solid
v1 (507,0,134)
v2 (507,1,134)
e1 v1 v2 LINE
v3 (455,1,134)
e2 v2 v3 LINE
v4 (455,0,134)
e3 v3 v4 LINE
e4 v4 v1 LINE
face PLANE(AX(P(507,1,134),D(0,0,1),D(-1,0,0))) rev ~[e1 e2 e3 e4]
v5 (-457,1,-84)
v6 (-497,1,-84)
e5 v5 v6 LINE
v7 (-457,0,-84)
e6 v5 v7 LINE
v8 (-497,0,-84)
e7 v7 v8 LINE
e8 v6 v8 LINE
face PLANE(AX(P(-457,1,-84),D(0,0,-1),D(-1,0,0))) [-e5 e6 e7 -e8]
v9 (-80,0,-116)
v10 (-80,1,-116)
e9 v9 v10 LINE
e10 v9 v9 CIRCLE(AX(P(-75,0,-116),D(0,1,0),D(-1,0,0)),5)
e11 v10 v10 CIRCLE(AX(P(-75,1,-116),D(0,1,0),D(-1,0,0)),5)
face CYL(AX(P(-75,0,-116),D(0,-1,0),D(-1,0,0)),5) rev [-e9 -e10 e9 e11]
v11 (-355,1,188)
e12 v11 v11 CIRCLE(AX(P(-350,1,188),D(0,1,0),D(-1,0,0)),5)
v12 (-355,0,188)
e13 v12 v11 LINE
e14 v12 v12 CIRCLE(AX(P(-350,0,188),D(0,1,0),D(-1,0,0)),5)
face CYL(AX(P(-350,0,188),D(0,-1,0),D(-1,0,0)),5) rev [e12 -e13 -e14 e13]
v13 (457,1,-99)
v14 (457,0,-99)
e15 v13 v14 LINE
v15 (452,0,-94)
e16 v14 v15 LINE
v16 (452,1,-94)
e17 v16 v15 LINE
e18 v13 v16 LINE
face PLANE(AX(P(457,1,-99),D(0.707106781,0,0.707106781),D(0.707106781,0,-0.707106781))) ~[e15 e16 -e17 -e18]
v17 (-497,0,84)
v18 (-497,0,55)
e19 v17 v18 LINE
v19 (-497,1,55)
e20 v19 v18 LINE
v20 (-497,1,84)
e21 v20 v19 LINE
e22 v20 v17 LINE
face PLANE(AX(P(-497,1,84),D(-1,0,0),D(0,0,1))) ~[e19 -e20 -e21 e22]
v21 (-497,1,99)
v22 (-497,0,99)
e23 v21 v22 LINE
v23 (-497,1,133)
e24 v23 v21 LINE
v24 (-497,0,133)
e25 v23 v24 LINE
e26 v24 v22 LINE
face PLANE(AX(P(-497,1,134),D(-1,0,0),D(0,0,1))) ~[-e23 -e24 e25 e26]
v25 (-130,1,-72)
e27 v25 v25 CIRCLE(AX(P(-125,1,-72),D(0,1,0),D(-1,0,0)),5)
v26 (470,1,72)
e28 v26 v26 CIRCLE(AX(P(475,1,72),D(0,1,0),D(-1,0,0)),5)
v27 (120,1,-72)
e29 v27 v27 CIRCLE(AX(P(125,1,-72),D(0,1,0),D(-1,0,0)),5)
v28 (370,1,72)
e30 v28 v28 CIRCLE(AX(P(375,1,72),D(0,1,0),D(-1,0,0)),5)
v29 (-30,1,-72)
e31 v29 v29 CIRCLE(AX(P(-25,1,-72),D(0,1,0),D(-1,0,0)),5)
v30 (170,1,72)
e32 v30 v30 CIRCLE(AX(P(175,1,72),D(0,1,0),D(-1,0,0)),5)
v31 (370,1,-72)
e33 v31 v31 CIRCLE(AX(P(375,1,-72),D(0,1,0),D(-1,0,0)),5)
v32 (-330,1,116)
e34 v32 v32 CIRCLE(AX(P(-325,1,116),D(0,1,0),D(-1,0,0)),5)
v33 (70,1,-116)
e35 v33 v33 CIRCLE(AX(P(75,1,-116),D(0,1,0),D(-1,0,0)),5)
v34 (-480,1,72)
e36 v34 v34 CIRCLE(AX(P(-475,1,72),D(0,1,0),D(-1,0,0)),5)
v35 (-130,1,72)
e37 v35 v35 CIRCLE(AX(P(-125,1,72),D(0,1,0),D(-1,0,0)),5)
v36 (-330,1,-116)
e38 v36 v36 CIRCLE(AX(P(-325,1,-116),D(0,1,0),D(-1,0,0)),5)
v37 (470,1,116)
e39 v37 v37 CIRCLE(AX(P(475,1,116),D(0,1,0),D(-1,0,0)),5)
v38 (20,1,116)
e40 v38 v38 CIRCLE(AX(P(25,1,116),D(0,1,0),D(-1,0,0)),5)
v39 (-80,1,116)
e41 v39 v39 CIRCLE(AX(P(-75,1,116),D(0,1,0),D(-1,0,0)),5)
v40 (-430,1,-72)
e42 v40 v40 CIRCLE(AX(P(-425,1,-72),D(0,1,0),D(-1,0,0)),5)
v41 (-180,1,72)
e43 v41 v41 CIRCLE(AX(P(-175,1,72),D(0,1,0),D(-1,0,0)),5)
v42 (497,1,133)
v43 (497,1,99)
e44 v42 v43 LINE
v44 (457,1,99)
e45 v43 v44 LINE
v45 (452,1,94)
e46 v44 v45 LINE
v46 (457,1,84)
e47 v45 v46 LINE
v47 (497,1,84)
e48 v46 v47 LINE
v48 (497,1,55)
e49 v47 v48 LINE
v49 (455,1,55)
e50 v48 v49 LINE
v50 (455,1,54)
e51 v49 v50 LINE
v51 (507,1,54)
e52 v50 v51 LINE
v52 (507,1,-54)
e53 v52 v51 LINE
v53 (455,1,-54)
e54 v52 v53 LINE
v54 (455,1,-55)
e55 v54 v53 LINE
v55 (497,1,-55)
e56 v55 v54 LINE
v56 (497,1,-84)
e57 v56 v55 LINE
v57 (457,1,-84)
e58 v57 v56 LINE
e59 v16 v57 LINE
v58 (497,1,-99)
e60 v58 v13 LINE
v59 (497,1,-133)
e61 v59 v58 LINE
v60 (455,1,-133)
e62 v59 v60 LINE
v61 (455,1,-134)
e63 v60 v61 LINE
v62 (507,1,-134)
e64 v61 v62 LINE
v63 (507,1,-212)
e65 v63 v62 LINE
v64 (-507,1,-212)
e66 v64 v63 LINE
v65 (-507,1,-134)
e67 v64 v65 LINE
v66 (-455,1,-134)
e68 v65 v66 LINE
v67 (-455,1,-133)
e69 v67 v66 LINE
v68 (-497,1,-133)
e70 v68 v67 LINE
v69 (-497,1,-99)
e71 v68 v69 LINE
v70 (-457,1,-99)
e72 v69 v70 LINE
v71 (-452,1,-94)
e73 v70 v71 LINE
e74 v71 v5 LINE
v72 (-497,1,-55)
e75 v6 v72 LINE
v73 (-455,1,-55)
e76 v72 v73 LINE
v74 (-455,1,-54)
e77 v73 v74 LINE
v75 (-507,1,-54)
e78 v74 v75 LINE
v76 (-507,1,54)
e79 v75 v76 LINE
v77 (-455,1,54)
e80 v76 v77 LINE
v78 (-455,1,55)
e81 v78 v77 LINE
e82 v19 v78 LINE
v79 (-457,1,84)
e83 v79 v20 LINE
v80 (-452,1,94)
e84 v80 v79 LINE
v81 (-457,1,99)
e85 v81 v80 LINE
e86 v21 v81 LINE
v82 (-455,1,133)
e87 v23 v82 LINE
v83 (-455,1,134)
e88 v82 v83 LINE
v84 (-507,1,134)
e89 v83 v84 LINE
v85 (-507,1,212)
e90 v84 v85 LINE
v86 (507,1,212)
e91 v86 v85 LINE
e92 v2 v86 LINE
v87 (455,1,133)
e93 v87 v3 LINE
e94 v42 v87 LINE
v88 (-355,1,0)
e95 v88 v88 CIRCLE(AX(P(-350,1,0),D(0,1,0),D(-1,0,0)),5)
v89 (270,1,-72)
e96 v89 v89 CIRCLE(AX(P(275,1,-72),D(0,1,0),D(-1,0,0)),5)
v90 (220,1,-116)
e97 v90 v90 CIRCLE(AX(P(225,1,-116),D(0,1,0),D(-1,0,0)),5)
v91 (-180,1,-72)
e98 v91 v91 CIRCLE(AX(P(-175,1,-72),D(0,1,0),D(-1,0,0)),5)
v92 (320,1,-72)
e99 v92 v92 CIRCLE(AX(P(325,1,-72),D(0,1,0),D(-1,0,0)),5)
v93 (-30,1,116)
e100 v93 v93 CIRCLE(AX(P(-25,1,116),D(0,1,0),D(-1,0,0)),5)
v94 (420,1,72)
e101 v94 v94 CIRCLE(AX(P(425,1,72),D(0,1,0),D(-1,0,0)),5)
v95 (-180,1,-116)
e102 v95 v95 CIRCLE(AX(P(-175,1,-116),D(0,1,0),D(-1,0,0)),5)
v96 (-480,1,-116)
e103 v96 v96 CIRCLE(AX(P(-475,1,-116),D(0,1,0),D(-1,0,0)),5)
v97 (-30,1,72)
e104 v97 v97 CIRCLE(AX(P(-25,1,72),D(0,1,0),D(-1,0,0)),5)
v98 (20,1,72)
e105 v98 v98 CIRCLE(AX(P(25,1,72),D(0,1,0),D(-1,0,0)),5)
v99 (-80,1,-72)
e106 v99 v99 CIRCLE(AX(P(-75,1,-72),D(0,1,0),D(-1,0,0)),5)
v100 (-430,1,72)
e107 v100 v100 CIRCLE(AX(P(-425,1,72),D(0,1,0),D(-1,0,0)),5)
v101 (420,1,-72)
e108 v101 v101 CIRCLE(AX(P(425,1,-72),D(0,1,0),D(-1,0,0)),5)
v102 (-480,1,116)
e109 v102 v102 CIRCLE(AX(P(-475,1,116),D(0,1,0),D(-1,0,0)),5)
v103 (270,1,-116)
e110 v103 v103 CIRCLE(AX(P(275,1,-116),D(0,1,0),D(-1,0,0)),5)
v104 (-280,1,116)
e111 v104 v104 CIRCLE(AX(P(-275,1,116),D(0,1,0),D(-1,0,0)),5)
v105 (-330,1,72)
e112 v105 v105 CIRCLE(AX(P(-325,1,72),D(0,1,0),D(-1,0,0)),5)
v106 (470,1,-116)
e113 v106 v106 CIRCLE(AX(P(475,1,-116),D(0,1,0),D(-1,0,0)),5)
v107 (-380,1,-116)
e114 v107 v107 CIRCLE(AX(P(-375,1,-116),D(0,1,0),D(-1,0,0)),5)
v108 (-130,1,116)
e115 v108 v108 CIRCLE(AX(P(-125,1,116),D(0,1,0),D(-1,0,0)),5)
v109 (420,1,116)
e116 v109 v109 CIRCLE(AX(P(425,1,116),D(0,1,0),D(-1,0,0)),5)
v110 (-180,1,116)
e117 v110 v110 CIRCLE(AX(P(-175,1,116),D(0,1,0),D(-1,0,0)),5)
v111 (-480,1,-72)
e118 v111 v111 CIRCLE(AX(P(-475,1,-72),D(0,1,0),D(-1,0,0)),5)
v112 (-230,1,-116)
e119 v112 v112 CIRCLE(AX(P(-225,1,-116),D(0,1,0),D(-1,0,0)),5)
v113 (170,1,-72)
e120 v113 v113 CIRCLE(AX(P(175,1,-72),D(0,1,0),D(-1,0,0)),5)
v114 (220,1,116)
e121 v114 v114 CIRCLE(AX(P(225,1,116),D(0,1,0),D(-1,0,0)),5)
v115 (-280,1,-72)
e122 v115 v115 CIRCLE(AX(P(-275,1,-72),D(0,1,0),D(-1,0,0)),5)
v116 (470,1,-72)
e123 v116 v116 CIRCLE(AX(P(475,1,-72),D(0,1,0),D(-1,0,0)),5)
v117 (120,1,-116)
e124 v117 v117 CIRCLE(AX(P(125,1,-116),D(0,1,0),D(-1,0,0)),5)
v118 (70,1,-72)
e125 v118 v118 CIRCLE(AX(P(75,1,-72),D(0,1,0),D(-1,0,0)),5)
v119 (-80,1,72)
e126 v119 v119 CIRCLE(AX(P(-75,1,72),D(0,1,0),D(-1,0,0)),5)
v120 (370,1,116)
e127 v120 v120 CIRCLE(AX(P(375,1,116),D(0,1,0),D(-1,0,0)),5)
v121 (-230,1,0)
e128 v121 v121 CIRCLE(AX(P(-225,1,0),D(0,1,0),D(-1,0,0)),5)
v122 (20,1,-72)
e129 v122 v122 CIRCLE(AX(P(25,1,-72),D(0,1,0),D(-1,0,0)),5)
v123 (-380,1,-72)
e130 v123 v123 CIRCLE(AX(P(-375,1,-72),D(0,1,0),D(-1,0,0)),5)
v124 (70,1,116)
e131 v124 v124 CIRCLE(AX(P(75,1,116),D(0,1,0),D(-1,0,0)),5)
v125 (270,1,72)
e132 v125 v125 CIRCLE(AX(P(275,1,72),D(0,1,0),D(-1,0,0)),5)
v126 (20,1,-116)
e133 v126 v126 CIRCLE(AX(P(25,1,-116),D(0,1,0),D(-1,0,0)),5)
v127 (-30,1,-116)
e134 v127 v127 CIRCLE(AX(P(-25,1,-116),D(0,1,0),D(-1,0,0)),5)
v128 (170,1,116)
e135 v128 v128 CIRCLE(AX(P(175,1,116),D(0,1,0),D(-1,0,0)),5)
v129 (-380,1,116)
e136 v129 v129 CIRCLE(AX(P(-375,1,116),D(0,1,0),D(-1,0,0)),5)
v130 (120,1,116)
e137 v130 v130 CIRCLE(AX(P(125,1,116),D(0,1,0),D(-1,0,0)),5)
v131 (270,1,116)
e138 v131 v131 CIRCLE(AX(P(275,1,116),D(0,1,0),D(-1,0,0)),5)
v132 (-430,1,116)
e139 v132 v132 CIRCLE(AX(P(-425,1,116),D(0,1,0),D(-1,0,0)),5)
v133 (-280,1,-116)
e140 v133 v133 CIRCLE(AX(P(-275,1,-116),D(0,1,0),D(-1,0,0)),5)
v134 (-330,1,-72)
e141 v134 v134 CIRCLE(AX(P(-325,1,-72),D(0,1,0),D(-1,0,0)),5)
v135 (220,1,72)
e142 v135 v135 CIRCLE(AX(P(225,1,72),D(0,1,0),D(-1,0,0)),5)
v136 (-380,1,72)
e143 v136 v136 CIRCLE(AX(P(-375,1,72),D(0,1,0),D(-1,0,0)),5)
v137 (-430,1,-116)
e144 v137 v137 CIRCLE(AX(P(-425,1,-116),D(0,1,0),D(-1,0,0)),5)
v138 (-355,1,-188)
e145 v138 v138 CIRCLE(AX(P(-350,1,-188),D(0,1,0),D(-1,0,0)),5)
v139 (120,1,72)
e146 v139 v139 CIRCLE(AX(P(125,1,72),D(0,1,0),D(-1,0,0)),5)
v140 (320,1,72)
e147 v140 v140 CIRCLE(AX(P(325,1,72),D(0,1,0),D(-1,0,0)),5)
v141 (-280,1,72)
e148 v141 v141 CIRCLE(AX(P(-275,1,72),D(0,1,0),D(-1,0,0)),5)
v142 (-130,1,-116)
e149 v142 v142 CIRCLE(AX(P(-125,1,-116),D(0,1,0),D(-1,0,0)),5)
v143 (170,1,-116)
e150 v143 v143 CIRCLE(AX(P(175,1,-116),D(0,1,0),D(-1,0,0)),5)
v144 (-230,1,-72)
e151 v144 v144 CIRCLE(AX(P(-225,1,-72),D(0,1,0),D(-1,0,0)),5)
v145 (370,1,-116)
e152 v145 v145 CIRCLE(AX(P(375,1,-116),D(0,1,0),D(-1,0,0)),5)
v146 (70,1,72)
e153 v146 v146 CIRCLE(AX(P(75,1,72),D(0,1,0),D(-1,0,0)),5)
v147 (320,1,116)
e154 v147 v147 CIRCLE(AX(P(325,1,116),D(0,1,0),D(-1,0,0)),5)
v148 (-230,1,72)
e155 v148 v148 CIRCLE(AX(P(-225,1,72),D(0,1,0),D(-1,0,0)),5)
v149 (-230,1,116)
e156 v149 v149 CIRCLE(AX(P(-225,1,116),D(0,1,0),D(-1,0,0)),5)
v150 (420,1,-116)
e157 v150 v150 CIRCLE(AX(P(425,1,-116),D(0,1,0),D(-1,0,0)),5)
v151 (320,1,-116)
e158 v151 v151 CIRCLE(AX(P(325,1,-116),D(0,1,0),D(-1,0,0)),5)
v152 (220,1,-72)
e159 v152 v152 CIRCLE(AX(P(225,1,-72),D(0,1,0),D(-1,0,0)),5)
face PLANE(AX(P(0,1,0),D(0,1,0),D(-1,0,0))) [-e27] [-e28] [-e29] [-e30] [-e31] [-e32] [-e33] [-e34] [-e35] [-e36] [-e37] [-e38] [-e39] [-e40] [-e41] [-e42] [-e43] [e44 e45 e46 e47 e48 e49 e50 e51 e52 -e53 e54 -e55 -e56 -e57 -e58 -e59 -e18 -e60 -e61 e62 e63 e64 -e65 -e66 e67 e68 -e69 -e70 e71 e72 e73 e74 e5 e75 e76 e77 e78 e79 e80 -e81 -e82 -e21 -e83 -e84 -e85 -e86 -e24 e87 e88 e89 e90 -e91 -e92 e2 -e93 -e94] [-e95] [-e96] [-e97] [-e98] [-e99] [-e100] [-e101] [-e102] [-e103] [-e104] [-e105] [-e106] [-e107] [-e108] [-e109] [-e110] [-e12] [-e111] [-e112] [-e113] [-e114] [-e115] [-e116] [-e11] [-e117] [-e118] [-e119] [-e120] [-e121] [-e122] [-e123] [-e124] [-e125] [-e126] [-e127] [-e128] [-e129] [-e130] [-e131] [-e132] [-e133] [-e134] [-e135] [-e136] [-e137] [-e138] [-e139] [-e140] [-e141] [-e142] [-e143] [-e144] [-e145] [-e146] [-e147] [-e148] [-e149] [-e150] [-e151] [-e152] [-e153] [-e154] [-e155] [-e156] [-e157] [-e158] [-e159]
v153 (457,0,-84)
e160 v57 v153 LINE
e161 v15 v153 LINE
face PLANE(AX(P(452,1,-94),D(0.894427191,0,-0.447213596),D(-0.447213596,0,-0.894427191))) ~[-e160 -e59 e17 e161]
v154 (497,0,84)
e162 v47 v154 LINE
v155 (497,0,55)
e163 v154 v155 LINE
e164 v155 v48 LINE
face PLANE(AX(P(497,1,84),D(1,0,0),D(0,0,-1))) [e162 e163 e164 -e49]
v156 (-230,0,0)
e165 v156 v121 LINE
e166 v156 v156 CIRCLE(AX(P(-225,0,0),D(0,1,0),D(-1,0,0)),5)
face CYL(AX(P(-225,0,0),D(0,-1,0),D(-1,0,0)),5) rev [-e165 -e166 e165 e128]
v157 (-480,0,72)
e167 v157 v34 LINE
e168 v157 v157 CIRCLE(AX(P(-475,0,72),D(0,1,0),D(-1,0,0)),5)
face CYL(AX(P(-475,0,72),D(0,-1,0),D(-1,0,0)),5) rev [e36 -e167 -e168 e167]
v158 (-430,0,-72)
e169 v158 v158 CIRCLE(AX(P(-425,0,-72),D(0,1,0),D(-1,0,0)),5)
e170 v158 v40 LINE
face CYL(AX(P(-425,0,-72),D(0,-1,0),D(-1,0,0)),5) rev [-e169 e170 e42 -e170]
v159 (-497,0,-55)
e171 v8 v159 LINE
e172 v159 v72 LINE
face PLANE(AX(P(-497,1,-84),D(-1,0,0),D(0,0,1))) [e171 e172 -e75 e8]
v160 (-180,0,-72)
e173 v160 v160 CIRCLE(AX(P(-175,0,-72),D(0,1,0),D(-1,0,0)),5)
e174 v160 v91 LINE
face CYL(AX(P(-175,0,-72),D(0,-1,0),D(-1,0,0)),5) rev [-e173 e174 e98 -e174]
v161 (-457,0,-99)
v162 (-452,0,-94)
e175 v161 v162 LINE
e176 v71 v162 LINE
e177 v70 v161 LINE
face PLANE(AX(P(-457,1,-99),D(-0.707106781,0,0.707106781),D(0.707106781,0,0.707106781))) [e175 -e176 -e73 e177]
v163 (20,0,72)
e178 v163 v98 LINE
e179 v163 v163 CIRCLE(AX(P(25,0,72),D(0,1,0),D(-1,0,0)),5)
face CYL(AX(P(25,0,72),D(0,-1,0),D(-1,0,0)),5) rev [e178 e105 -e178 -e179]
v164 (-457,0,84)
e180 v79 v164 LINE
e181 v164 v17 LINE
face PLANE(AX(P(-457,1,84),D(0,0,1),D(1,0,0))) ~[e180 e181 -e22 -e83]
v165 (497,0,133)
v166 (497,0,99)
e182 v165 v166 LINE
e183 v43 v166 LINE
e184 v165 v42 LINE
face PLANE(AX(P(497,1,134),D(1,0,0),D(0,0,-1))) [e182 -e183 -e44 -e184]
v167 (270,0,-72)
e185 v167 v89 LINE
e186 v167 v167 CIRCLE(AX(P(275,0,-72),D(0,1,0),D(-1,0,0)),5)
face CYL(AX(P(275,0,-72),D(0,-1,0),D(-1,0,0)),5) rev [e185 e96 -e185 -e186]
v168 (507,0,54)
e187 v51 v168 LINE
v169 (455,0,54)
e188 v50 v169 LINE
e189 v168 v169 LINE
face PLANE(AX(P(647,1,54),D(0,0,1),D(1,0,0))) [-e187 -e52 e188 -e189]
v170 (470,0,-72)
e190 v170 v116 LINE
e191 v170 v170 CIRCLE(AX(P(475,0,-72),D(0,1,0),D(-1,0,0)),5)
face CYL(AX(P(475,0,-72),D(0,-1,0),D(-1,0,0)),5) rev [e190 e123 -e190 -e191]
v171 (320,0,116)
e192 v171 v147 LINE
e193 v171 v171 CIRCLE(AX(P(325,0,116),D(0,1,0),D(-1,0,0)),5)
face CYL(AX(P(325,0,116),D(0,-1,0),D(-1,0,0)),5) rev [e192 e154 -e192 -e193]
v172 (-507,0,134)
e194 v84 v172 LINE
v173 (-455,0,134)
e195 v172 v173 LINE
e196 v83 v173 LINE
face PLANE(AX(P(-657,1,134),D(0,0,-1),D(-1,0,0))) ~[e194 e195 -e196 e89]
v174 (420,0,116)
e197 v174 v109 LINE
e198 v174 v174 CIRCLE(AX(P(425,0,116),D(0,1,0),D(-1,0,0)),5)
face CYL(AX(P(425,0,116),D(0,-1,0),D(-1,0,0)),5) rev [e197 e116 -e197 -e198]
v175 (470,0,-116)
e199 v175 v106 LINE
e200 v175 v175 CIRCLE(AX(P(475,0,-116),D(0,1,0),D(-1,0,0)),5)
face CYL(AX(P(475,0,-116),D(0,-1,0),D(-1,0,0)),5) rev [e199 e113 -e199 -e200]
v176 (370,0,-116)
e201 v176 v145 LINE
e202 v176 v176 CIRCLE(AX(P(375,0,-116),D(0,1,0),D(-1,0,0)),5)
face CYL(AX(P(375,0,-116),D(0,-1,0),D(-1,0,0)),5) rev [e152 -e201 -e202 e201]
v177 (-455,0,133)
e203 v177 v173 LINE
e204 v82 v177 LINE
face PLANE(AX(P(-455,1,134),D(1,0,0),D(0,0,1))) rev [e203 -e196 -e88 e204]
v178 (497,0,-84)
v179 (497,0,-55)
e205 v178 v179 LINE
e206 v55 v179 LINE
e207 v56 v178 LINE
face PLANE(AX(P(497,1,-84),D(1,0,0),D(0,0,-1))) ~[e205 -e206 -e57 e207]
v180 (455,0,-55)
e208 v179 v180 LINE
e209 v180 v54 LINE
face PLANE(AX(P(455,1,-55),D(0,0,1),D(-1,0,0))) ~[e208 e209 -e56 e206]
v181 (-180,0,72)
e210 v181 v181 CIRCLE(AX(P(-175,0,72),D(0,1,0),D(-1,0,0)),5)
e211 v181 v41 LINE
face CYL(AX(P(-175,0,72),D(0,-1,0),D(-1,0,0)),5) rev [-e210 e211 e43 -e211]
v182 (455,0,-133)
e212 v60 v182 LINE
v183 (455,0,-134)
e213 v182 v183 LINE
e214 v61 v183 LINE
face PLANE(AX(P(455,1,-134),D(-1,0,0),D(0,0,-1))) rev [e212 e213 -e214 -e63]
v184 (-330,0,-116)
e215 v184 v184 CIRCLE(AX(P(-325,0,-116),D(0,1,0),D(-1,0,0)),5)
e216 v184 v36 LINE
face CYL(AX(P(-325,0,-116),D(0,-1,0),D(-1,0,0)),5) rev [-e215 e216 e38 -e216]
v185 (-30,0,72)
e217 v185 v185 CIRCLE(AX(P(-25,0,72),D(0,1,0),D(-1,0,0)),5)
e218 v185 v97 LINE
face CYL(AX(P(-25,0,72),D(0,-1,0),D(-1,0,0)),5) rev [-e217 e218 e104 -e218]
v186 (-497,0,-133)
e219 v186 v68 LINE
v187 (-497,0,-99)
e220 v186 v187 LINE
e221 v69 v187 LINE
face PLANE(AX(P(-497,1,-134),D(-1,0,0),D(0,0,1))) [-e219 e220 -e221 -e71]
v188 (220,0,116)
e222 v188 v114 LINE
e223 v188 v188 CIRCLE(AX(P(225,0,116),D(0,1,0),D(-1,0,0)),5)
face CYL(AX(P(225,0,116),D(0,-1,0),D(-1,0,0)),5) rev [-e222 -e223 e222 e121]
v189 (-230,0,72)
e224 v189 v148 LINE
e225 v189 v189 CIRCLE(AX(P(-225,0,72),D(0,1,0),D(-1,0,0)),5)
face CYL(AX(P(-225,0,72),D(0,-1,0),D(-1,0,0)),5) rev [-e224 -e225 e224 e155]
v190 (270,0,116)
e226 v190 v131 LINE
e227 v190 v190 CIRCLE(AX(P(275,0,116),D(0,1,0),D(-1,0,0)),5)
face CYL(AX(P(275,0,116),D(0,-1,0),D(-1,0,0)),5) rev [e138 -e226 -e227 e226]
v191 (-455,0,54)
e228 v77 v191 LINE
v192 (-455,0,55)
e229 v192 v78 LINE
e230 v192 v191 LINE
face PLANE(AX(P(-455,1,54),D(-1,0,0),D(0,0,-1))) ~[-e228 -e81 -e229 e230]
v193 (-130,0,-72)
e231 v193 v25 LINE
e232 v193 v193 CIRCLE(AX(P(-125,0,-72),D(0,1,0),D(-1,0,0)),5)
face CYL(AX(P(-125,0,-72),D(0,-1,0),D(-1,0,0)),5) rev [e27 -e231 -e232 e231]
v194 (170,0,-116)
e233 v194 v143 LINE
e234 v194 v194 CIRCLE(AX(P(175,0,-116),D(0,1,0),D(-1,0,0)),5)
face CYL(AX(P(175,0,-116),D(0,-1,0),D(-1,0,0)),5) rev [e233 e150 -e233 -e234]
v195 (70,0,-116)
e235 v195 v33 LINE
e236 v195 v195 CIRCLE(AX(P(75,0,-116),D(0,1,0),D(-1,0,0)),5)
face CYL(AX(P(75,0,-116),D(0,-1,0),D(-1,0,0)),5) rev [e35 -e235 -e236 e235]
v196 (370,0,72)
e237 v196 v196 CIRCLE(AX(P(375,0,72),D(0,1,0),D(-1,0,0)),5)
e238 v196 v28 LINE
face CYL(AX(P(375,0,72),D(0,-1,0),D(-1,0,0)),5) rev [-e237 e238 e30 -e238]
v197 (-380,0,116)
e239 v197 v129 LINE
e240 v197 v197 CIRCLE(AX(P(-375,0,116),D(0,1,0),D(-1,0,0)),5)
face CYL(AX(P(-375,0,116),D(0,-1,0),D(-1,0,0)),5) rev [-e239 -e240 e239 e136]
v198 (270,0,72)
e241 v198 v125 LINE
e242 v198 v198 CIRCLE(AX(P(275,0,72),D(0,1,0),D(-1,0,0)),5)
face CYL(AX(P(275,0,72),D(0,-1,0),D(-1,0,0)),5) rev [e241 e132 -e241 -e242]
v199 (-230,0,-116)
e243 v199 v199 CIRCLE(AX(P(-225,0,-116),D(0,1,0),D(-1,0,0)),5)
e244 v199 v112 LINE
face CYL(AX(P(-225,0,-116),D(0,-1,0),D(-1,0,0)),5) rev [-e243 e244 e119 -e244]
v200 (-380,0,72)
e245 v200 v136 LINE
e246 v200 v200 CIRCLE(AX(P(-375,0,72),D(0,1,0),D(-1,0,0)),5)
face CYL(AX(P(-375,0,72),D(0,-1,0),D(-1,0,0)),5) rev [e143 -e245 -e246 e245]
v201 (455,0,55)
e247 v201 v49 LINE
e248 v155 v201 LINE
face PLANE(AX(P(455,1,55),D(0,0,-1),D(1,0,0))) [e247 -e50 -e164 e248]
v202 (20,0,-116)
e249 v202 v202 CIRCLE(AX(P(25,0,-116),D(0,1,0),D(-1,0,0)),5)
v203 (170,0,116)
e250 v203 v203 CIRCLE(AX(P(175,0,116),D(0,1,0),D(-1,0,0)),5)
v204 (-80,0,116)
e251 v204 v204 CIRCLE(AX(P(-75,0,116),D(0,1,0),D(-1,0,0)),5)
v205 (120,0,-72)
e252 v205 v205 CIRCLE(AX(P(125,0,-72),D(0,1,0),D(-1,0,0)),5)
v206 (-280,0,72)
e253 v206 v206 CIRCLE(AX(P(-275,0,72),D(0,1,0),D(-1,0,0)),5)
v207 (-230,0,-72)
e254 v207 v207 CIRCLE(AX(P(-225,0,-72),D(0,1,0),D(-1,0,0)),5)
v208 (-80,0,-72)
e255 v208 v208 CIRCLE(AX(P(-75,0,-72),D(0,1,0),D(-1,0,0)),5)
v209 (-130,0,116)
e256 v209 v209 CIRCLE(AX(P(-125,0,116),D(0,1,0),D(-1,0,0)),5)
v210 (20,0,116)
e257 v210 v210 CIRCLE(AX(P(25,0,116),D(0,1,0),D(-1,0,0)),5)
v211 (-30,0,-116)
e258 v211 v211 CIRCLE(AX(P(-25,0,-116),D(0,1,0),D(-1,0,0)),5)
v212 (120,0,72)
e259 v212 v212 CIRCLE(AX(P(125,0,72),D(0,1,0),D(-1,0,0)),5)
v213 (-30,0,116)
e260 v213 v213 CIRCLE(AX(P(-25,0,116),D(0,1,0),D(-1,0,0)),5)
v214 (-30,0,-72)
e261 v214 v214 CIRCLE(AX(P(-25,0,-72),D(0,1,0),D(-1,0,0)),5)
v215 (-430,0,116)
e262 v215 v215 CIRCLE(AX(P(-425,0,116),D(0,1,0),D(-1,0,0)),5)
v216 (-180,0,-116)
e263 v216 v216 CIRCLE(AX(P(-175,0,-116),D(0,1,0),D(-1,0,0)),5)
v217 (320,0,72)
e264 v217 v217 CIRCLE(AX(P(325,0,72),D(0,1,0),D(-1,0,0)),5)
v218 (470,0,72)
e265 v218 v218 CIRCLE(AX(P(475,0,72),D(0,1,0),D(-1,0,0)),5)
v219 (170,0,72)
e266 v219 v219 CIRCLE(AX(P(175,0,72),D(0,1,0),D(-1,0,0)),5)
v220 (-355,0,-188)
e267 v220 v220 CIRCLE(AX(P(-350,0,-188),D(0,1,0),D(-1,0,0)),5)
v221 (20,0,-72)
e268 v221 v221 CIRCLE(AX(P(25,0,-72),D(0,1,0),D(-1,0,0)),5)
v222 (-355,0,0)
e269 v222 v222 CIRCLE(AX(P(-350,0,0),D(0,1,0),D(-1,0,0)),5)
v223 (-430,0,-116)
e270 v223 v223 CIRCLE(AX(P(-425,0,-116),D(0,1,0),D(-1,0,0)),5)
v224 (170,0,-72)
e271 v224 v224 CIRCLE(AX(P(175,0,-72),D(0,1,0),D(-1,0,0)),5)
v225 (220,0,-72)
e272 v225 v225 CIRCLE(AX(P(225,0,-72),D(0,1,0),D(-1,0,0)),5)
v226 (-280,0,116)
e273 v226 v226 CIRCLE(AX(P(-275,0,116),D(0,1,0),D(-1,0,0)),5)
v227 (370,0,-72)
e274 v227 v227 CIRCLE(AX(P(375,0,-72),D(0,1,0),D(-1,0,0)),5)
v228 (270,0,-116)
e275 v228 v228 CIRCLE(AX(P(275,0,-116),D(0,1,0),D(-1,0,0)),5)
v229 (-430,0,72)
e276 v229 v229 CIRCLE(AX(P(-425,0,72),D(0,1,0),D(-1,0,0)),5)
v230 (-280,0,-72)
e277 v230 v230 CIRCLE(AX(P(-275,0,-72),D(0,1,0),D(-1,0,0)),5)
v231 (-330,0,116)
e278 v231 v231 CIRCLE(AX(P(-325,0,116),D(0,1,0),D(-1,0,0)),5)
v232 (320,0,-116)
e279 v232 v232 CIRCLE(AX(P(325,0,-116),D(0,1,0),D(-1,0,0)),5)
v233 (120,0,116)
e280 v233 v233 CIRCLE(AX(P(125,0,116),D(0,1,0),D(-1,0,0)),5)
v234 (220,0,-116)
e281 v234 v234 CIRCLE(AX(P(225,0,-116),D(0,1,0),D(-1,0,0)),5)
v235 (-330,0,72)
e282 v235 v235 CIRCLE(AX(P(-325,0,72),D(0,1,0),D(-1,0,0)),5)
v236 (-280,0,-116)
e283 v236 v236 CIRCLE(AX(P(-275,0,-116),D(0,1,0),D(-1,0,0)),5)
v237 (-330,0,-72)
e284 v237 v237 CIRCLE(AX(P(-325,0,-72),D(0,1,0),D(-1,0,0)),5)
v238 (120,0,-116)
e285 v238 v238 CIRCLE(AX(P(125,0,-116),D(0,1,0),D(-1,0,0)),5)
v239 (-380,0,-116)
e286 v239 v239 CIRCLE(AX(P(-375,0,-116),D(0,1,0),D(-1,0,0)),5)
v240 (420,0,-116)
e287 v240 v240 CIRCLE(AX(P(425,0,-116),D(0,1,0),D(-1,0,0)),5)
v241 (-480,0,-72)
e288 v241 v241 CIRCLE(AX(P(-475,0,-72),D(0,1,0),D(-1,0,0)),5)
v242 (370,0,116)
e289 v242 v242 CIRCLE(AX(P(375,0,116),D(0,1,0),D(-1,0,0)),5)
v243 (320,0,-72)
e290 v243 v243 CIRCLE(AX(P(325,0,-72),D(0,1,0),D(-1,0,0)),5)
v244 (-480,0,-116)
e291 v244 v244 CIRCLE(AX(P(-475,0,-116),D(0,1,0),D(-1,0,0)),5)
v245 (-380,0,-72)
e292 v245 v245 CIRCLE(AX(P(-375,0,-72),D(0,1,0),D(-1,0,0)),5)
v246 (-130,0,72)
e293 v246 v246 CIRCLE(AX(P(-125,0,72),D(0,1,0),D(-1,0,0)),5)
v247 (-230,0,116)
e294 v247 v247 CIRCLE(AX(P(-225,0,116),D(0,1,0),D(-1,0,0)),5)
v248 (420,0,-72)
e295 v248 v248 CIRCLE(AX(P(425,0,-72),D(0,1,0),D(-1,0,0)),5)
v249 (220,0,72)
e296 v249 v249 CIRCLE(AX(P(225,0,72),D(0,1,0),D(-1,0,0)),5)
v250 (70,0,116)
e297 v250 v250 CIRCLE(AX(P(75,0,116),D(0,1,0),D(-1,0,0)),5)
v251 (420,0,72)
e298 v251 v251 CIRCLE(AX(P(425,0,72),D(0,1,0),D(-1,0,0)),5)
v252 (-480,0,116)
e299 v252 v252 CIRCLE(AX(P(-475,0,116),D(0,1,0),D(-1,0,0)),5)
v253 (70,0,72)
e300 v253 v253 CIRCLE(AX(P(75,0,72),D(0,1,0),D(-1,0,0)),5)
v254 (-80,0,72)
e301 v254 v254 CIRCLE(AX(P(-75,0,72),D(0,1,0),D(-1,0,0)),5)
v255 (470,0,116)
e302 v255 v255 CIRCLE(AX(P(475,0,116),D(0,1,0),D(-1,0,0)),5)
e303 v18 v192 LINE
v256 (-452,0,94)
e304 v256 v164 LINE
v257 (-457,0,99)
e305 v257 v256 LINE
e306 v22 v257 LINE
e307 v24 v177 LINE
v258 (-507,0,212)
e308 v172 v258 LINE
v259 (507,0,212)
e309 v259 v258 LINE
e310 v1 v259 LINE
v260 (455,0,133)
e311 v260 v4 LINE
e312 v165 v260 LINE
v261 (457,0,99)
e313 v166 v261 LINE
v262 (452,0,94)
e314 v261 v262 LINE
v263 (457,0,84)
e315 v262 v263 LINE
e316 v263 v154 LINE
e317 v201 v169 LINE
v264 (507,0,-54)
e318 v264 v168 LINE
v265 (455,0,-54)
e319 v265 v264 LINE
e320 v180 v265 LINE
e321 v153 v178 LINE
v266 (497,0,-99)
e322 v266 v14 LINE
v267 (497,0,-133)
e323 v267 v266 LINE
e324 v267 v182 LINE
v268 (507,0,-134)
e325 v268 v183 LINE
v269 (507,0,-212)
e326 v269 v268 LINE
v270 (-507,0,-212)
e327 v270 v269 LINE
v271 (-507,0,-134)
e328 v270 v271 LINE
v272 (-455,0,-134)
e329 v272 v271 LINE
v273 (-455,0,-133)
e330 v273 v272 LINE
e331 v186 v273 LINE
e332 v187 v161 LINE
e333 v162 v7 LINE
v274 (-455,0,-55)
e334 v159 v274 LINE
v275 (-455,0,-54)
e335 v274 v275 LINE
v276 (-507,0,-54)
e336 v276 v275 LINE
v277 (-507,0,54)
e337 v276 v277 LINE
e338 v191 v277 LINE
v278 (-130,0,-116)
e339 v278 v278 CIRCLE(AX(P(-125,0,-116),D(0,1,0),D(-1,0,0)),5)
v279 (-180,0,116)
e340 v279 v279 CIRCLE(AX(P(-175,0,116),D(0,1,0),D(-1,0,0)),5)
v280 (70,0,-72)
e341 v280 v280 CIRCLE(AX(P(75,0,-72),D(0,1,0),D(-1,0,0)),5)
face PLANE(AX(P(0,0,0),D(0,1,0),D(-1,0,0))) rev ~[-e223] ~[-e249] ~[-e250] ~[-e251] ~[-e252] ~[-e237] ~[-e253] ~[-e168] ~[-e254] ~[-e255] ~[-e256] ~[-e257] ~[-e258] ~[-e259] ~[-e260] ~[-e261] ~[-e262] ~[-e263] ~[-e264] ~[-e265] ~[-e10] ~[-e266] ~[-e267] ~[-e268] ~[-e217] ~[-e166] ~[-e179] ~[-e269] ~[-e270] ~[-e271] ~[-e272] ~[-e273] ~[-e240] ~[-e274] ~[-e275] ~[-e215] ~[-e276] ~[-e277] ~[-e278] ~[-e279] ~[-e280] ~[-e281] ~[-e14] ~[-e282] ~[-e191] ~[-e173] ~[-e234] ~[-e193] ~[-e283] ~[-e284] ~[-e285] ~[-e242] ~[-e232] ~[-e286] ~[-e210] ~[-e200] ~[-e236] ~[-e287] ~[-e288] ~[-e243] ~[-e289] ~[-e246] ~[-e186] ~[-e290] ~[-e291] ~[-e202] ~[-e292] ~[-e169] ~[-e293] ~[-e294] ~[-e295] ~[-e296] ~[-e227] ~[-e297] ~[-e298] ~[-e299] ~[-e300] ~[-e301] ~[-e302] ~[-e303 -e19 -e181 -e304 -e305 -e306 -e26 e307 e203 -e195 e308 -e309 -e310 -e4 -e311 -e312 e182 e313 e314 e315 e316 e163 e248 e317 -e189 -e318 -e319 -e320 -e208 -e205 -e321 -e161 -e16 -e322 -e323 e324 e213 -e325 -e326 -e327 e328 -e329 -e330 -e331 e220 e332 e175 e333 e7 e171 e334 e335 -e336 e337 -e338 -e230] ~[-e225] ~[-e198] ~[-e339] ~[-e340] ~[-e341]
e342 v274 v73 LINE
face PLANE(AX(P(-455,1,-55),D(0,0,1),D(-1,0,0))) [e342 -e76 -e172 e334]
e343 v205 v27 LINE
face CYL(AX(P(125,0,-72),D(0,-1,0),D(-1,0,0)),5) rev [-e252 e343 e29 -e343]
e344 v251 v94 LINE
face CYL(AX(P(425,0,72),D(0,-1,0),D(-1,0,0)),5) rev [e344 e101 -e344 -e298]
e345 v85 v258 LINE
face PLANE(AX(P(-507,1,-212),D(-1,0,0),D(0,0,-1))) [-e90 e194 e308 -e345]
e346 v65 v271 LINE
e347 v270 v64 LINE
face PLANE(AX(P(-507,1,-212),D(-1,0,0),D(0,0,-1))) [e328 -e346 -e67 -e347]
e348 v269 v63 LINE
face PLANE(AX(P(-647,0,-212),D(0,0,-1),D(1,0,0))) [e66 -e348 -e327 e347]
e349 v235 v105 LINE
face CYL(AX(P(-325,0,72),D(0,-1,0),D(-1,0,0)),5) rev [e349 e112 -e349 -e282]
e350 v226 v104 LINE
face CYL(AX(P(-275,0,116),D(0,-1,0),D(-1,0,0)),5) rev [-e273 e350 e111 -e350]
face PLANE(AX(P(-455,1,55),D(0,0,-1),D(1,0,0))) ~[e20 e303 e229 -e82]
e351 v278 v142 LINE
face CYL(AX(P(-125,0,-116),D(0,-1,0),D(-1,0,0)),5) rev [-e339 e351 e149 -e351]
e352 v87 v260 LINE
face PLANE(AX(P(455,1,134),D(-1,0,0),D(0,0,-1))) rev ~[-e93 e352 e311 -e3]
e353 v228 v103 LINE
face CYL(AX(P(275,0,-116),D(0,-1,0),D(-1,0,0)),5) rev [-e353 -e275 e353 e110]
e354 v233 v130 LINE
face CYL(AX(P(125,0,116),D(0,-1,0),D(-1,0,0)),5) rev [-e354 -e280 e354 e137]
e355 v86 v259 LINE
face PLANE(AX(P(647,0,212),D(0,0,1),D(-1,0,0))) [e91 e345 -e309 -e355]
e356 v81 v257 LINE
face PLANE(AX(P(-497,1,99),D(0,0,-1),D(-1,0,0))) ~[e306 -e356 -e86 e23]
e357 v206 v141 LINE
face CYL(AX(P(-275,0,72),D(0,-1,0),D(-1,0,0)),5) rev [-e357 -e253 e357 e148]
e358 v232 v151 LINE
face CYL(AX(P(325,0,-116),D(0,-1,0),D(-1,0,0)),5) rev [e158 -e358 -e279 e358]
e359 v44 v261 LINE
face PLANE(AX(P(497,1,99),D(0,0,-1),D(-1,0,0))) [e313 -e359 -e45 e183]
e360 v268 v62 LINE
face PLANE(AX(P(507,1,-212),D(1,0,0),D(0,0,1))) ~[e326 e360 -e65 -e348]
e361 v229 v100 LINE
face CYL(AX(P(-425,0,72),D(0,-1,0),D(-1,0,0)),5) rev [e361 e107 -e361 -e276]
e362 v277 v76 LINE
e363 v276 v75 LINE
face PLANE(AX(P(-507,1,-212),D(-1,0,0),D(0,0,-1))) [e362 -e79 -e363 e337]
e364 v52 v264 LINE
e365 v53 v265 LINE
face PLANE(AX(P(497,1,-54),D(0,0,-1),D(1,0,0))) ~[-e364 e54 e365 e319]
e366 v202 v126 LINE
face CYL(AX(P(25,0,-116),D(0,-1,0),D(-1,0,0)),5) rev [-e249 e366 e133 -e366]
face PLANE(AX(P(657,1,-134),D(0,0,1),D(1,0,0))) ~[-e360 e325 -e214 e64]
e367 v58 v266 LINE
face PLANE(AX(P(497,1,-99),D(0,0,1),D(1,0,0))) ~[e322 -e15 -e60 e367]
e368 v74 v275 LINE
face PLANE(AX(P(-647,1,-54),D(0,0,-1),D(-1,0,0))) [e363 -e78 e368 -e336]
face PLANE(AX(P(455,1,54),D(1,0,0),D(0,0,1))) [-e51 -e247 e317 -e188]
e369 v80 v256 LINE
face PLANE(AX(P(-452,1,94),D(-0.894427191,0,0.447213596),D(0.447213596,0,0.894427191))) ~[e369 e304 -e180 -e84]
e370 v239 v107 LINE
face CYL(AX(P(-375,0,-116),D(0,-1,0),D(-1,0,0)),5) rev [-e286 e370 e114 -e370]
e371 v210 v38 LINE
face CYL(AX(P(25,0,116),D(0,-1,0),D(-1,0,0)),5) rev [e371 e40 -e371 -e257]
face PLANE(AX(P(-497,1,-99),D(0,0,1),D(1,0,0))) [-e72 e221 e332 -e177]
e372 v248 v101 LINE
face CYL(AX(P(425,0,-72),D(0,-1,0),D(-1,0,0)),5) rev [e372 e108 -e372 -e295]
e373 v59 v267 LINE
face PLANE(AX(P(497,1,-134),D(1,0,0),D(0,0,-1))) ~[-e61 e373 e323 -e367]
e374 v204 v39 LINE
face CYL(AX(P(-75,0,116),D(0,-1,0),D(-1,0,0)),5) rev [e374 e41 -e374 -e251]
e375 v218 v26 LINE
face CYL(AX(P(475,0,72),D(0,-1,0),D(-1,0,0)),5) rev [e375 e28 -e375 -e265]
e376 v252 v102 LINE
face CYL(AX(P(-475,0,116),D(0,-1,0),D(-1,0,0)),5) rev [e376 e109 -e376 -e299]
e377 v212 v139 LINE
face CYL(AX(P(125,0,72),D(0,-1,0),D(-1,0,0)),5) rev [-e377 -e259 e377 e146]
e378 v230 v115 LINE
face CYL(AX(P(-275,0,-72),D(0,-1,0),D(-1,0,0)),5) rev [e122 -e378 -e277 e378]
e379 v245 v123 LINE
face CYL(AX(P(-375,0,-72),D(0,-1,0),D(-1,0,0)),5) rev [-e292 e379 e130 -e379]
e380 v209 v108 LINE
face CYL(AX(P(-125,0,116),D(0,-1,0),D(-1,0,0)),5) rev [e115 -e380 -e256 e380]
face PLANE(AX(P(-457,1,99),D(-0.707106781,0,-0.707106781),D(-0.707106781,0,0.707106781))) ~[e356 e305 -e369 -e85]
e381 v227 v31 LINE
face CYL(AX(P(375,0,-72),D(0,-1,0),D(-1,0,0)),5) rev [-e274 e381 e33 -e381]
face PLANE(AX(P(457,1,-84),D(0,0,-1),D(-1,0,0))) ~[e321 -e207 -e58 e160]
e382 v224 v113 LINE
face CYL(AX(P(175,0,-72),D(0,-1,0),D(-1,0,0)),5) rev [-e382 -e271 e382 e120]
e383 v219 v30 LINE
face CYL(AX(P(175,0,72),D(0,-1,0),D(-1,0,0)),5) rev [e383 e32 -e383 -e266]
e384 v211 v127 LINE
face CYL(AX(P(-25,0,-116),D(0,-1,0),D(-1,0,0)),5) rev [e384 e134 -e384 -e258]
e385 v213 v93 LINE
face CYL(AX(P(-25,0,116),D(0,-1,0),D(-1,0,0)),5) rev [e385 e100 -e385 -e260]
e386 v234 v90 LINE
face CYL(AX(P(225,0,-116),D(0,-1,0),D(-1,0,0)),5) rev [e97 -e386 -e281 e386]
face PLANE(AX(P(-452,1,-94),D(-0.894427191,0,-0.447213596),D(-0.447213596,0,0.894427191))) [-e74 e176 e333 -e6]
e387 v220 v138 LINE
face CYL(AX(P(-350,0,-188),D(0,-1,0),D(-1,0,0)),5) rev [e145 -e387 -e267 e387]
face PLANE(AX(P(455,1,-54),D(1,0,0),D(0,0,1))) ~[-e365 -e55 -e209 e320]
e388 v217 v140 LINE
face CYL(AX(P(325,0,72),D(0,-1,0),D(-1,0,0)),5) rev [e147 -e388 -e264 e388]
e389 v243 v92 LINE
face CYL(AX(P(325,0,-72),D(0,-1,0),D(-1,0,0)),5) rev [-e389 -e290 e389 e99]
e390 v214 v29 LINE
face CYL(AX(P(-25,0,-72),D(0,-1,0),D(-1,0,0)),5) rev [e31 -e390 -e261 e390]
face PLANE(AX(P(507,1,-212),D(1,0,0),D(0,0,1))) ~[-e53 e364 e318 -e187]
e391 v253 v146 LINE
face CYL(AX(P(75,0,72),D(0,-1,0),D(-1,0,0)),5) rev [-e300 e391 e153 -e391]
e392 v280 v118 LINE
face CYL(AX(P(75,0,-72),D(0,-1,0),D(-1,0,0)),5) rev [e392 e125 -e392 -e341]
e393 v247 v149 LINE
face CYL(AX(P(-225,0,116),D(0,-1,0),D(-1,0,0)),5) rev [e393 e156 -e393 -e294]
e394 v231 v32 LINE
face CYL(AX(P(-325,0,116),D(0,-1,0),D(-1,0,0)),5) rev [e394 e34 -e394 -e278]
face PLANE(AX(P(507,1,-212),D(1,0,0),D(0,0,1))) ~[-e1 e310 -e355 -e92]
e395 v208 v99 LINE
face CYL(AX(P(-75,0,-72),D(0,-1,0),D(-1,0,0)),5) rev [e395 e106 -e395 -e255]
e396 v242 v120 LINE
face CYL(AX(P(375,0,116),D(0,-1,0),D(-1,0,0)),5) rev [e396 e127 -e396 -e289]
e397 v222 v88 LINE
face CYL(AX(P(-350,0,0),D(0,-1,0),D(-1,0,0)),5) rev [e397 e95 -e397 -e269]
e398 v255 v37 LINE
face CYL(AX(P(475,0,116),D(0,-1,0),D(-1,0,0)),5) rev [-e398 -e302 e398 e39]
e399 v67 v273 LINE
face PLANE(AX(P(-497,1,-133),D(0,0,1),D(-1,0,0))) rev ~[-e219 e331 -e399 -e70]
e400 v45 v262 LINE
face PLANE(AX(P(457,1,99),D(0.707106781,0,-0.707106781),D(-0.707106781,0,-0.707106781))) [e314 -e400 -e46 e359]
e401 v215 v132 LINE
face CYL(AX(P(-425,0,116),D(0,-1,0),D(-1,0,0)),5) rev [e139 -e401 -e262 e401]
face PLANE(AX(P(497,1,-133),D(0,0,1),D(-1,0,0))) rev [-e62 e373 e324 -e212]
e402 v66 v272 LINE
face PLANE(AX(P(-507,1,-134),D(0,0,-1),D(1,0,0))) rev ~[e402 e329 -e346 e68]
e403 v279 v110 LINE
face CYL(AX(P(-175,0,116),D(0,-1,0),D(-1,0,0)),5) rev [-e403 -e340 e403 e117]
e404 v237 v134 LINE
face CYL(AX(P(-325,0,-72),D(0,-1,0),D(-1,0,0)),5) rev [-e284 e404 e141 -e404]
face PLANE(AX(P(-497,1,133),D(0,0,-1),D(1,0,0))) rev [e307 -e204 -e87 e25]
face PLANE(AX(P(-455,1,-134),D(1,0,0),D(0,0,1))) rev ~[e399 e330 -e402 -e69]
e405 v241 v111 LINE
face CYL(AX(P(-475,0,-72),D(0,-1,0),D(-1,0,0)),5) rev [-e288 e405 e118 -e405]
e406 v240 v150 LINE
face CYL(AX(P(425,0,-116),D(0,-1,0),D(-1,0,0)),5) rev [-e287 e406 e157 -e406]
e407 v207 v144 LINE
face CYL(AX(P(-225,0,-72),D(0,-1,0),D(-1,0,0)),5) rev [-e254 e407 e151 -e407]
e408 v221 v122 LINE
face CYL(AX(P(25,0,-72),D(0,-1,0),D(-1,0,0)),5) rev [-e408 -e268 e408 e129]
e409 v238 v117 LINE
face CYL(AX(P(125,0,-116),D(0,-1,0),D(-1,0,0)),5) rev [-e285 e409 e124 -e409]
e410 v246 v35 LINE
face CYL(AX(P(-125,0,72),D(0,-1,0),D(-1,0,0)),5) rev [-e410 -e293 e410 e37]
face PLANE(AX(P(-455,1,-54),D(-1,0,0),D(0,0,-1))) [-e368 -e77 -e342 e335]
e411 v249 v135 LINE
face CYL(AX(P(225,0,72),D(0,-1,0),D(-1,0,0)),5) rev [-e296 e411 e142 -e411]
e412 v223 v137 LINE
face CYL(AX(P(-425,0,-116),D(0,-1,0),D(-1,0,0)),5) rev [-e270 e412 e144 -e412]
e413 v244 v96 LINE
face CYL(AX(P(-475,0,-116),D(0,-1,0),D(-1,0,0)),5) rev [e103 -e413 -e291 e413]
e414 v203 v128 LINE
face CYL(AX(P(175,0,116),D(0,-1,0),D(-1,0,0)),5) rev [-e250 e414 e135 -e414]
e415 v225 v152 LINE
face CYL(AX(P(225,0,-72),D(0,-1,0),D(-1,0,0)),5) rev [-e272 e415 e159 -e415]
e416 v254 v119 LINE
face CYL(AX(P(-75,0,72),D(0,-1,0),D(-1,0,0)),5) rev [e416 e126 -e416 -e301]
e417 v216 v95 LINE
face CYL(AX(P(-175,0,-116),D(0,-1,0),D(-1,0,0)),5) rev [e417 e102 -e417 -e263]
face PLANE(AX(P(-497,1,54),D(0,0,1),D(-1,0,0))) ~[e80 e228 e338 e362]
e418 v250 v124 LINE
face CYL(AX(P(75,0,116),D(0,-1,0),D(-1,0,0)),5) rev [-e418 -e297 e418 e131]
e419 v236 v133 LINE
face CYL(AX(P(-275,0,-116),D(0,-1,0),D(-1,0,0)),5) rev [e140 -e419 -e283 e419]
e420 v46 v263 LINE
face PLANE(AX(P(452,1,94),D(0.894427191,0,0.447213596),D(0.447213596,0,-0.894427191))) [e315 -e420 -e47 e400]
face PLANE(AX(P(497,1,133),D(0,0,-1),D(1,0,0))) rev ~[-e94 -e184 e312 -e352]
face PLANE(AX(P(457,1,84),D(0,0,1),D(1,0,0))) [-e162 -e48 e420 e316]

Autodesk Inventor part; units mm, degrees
ref_plane "YZ Plane" through (0, 0, 0) normal (1, 0, 0) x (0, 1, 0)
ref_plane "XZ Plane" through (0, 0, 0) normal (0, 1, 0) x (-1, 0, 0)
ref_plane "XY Plane" through (0, 0, 0) normal (0, 0, 1) x (1, 0, 0)
sketch "Skin Scheme" plane through (0, 0, 0) normal (0, 1, 0) x (-1, 0, 0)
  line L0 (647, -212) -> (-647, -212)
  line L1 (-647, -212) -> (-647, 212)
  line L2 (-647, 212) -> (647, 212)
  line L3 (647, 212) -> (647, -212)
  circle A0 centre (475, -116) radius 5
  circle A1 centre (475, -72) radius 5
  circle A2 centre (475, 72) radius 5
  circle A3 centre (475, 116) radius 5
  circle A4 centre (425, -116) radius 5
  circle A5 centre (425, -72) radius 5
  circle A6 centre (425, 72) radius 5
  circle A7 centre (425, 116) radius 5
  circle A8 centre (375, -116) radius 5
  circle A9 centre (375, -72) radius 5
  circle A10 centre (375, 72) radius 5
  circle A11 centre (375, 116) radius 5
  circle A12 centre (325, -116) radius 5
  circle A13 centre (325, -72) radius 5
  circle A14 centre (325, 72) radius 5
  circle A15 centre (325, 116) radius 5
  circle A16 centre (275, -116) radius 5
  circle A17 centre (275, -72) radius 5
  circle A18 centre (275, 72) radius 5
  circle A19 centre (275, 116) radius 5
  circle A20 centre (225, -116) radius 5
  circle A21 centre (225, -72) radius 5
  circle A22 centre (225, 72) radius 5
  circle A23 centre (225, 116) radius 5
  circle A24 centre (175, -116) radius 5
  circle A25 centre (175, -72) radius 5
  circle A26 centre (175, 72) radius 5
  circle A27 centre (175, 116) radius 5
  circle A28 centre (125, -116) radius 5
  circle A29 centre (125, -72) radius 5
  circle A30 centre (125, 72) radius 5
  circle A31 centre (125, 116) radius 5
  circle A32 centre (75, -116) radius 5
  circle A33 centre (75, -72) radius 5
  circle A34 centre (75, 72) radius 5
  circle A35 centre (75, 116) radius 5
  circle A36 centre (25, -116) radius 5
  circle A37 centre (25, -72) radius 5
  circle A38 centre (25, 72) radius 5
  circle A39 centre (25, 116) radius 5
  circle A40 centre (-25, -116) radius 5
  circle A41 centre (-25, -72) radius 5
  circle A42 centre (-25, 72) radius 5
  circle A43 centre (-25, 116) radius 5
  circle A44 centre (-75, -116) radius 5
  circle A45 centre (-75, -72) radius 5
  circle A46 centre (-75, 72) radius 5
  circle A47 centre (-75, 116) radius 5
  circle A48 centre (-125, -116) radius 5
  circle A49 centre (-125, -72) radius 5
  circle A50 centre (-125, 72) radius 5
  circle A51 centre (-125, 116) radius 5
  circle A52 centre (-175, -116) radius 5
  circle A53 centre (-175, -72) radius 5
  circle A54 centre (-175, 72) radius 5
  circle A55 centre (-175, 116) radius 5
  circle A56 centre (-225, -116) radius 5
  circle A57 centre (-225, -72) radius 5
  circle A58 centre (-225, 72) radius 5
  circle A59 centre (-225, 116) radius 5
  circle A60 centre (-275, -116) radius 5
  circle A61 centre (-275, -72) radius 5
  circle A62 centre (-275, 72) radius 5
  circle A63 centre (-275, 116) radius 5
  circle A64 centre (-325, -116) radius 5
  circle A65 centre (-325, -72) radius 5
  circle A66 centre (-325, 72) radius 5
  circle A67 centre (-325, 116) radius 5
  circle A68 centre (-375, -116) radius 5
  circle A69 centre (-375, -72) radius 5
  circle A70 centre (-375, 72) radius 5
  circle A71 centre (-375, 116) radius 5
  circle A72 centre (-425, -116) radius 5
  circle A73 centre (-425, -72) radius 5
  circle A74 centre (-425, 72) radius 5
  circle A75 centre (-425, 116) radius 5
  circle A76 centre (-475, -116) radius 5
  circle A77 centre (-475, -72) radius 5
  circle A78 centre (-475, 72) radius 5
  circle A79 centre (-475, 116) radius 5
  circle A80 centre (350, 0) radius 5
  circle A81 centre (350, -188) radius 5
  circle A82 centre (350, 188) radius 5
  circle A83 centre (225, 0) radius 5
  point P0 (0, 0)
  dimension "d0" = 1294
  dimension "d1" = 647
  dimension "d2" = 424
  dimension "d3" = 212
  dimension "d4" = 10
  dimension "d5" = 172
  dimension "d6" = 96
  dimension "d9" = 44
  dimension "d16" = 188
  dimension "d19" = 50
  dimension "d61" = 25
  dimension "d62" = 72
  dimension "d63" = 72
  dimension "d64" = 25
  dimension "d65" = 72
  dimension "d66" = 25
  dimension "d67" = 10
  dimension "d68" = 10
  dimension "d69" = 10
  dimension "d70" = 250
  dimension "d71" = 0
  dimension "d72" = 10
extrude "Skin Body" add sketch "Skin Scheme" along normal blind 1
sketch "Feature Cut Outline" plane through (0, 1, 0) normal (0, 1, 0) x (1, 0, 0)
  circle A0 centre (-475, 116) radius 5 projected
  circle A1 centre (-475, 72) radius 5 projected
  line L0 (-657, 134) -> (-497, 134)
  line L1 (-497, 134) -> (-497, 99)
  line L2 (-497, 99) -> (-457, 99)
  line L3 (-457, 99) -> (-452, 94)
  line L4 (-452, 94) -> (-457, 84)
  line L5 (-457, 84) -> (-497, 84)
  line L6 (-497, 84) -> (-497, 54)
  line L7 (-497, 54) -> (-657, 54)
  line L8 (-657, 54) -> (-657, 134)
  line L9 (-647, 212) -> (-647, -212) projected
  point P0 (0, 0)
  dimension "d33" = 18
  dimension "d34" = 22
  dimension "d35" = 18
  dimension "d36" = 5
  dimension "d37" = 10
  dimension "d38" = 5
  dimension "d39" = 5
  dimension "d40" = 10
  dimension "d41" = 45
  dimension "d42" = 22
extrude "Feature Cut" cut sketch "Feature Cut Outline" along normal through all both and the other way through all contours L0 L9 L7 L8 | L0 L1 L2 L3 L4 L5 L6 L7 L9
mirror "Feature Cut Side Mirror" about plane through (0, 0, 0) normal (0, 0, 1) of "Feature Cut"
mirror "Feature Cut Mirror" about plane through (0, 0, 0) normal (1, 0, 0) of "Feature Cut", "Feature Cut Side Mirror"
sketch "End Cut Outline" plane through (0, 1, 0) normal (0, 1, 0) x (1, 0, 0)
  line L0 (-507, 222) -> (-657, 222)
  line L1 (-657, 222) -> (-657, -222)
  line L2 (-657, -222) -> (-507, -222)
  line L3 (-507, -222) -> (-507, 222)
  line L4 (-647, 212) -> (-647, 134) projected
  line L5 (647, 212) -> (-647, 212) projected
  line L6 (-647, -212) -> (647, -212) projected
  point P0 (0, 0)
  dimension "d45" = 10
  dimension "d46" = 10
  dimension "d47" = 10
  dimension "d48" = 140
extrude "End Cut" cut sketch "End Cut Outline" along normal through all both and the other way through all
mirror "End Cut Mirror" about plane through (0, 0, 0) normal (1, 0, 0) of "End Cut"
sketch "Slot Cut Outline" plane through (0, 1, 0) normal (0, 1, 0) x (1, 0, 0)
  line L0 (-455, 55) -> (-507, 55)
  line L1 (-507, 55) -> (-507, 54)
  line L2 (-507, 54) -> (-455, 54)
  line L3 (-455, 54) -> (-455, 55)
  line L4 (-497, 54) -> (-507, 54) projected
  line L5 (-507, 54) -> (-507, -54) projected
  line L6 (-497, 84) -> (-497, 54) projected
  line L7 (-507, 134) -> (-455, 134)
  line L8 (-455, 134) -> (-455, 133)
  line L9 (-455, 133) -> (-507, 133)
  line L10 (-507, 133) -> (-507, 134)
  line L11 (-507, 134) -> (-497, 134) projected
  line L12 (-497, 134) -> (-497, 99) projected
  line L13 (-507, 212) -> (-507, 134) projected
  point P0 (0, 0)
  dimension "d51" = 0
  dimension "d52" = 1
  dimension "d53" = 0
  dimension "d54" = 42
  dimension "d55" = 0
  dimension "d56" = 1
  dimension "d57" = 42
  dimension "d58" = 0
extrude "Slot Cut" cut sketch "Slot Cut Outline" along normal through all both and the other way through all
mirror "Slot Cut Side Mirror" about plane through (0, 0, 0) normal (0, 0, 1) of "Slot Cut"
mirror "Slot Cut Mirror" about plane through (0, 0, 0) normal (1, 0, 0) of "Slot Cut", "Slot Cut Side Mirror"
equation "\"d1\" = 0.5 * d0"
equation "\"d3\" = 0.5 * d2"
equation "\"d61\" = 0.5 * d19"
equation "\"d62\" = -0.5 * d9 + 0.5 * d16"
equation "\"d63\" = d62"
equation "\"d64\" = d61"
equation "\"d65\" = d62"
equation "\"d66\" = d61"
equation "\"d67\" = d4"
equation "\"d68\" = d4"
equation "\"d69\" = d4"
equation "\"d70\" = 5 * d19"
equation "\"d56\" = d52"
equation "\"d57\" = d54"
properties part number "Skin NPS 6" material "Rubber, Silicone"
